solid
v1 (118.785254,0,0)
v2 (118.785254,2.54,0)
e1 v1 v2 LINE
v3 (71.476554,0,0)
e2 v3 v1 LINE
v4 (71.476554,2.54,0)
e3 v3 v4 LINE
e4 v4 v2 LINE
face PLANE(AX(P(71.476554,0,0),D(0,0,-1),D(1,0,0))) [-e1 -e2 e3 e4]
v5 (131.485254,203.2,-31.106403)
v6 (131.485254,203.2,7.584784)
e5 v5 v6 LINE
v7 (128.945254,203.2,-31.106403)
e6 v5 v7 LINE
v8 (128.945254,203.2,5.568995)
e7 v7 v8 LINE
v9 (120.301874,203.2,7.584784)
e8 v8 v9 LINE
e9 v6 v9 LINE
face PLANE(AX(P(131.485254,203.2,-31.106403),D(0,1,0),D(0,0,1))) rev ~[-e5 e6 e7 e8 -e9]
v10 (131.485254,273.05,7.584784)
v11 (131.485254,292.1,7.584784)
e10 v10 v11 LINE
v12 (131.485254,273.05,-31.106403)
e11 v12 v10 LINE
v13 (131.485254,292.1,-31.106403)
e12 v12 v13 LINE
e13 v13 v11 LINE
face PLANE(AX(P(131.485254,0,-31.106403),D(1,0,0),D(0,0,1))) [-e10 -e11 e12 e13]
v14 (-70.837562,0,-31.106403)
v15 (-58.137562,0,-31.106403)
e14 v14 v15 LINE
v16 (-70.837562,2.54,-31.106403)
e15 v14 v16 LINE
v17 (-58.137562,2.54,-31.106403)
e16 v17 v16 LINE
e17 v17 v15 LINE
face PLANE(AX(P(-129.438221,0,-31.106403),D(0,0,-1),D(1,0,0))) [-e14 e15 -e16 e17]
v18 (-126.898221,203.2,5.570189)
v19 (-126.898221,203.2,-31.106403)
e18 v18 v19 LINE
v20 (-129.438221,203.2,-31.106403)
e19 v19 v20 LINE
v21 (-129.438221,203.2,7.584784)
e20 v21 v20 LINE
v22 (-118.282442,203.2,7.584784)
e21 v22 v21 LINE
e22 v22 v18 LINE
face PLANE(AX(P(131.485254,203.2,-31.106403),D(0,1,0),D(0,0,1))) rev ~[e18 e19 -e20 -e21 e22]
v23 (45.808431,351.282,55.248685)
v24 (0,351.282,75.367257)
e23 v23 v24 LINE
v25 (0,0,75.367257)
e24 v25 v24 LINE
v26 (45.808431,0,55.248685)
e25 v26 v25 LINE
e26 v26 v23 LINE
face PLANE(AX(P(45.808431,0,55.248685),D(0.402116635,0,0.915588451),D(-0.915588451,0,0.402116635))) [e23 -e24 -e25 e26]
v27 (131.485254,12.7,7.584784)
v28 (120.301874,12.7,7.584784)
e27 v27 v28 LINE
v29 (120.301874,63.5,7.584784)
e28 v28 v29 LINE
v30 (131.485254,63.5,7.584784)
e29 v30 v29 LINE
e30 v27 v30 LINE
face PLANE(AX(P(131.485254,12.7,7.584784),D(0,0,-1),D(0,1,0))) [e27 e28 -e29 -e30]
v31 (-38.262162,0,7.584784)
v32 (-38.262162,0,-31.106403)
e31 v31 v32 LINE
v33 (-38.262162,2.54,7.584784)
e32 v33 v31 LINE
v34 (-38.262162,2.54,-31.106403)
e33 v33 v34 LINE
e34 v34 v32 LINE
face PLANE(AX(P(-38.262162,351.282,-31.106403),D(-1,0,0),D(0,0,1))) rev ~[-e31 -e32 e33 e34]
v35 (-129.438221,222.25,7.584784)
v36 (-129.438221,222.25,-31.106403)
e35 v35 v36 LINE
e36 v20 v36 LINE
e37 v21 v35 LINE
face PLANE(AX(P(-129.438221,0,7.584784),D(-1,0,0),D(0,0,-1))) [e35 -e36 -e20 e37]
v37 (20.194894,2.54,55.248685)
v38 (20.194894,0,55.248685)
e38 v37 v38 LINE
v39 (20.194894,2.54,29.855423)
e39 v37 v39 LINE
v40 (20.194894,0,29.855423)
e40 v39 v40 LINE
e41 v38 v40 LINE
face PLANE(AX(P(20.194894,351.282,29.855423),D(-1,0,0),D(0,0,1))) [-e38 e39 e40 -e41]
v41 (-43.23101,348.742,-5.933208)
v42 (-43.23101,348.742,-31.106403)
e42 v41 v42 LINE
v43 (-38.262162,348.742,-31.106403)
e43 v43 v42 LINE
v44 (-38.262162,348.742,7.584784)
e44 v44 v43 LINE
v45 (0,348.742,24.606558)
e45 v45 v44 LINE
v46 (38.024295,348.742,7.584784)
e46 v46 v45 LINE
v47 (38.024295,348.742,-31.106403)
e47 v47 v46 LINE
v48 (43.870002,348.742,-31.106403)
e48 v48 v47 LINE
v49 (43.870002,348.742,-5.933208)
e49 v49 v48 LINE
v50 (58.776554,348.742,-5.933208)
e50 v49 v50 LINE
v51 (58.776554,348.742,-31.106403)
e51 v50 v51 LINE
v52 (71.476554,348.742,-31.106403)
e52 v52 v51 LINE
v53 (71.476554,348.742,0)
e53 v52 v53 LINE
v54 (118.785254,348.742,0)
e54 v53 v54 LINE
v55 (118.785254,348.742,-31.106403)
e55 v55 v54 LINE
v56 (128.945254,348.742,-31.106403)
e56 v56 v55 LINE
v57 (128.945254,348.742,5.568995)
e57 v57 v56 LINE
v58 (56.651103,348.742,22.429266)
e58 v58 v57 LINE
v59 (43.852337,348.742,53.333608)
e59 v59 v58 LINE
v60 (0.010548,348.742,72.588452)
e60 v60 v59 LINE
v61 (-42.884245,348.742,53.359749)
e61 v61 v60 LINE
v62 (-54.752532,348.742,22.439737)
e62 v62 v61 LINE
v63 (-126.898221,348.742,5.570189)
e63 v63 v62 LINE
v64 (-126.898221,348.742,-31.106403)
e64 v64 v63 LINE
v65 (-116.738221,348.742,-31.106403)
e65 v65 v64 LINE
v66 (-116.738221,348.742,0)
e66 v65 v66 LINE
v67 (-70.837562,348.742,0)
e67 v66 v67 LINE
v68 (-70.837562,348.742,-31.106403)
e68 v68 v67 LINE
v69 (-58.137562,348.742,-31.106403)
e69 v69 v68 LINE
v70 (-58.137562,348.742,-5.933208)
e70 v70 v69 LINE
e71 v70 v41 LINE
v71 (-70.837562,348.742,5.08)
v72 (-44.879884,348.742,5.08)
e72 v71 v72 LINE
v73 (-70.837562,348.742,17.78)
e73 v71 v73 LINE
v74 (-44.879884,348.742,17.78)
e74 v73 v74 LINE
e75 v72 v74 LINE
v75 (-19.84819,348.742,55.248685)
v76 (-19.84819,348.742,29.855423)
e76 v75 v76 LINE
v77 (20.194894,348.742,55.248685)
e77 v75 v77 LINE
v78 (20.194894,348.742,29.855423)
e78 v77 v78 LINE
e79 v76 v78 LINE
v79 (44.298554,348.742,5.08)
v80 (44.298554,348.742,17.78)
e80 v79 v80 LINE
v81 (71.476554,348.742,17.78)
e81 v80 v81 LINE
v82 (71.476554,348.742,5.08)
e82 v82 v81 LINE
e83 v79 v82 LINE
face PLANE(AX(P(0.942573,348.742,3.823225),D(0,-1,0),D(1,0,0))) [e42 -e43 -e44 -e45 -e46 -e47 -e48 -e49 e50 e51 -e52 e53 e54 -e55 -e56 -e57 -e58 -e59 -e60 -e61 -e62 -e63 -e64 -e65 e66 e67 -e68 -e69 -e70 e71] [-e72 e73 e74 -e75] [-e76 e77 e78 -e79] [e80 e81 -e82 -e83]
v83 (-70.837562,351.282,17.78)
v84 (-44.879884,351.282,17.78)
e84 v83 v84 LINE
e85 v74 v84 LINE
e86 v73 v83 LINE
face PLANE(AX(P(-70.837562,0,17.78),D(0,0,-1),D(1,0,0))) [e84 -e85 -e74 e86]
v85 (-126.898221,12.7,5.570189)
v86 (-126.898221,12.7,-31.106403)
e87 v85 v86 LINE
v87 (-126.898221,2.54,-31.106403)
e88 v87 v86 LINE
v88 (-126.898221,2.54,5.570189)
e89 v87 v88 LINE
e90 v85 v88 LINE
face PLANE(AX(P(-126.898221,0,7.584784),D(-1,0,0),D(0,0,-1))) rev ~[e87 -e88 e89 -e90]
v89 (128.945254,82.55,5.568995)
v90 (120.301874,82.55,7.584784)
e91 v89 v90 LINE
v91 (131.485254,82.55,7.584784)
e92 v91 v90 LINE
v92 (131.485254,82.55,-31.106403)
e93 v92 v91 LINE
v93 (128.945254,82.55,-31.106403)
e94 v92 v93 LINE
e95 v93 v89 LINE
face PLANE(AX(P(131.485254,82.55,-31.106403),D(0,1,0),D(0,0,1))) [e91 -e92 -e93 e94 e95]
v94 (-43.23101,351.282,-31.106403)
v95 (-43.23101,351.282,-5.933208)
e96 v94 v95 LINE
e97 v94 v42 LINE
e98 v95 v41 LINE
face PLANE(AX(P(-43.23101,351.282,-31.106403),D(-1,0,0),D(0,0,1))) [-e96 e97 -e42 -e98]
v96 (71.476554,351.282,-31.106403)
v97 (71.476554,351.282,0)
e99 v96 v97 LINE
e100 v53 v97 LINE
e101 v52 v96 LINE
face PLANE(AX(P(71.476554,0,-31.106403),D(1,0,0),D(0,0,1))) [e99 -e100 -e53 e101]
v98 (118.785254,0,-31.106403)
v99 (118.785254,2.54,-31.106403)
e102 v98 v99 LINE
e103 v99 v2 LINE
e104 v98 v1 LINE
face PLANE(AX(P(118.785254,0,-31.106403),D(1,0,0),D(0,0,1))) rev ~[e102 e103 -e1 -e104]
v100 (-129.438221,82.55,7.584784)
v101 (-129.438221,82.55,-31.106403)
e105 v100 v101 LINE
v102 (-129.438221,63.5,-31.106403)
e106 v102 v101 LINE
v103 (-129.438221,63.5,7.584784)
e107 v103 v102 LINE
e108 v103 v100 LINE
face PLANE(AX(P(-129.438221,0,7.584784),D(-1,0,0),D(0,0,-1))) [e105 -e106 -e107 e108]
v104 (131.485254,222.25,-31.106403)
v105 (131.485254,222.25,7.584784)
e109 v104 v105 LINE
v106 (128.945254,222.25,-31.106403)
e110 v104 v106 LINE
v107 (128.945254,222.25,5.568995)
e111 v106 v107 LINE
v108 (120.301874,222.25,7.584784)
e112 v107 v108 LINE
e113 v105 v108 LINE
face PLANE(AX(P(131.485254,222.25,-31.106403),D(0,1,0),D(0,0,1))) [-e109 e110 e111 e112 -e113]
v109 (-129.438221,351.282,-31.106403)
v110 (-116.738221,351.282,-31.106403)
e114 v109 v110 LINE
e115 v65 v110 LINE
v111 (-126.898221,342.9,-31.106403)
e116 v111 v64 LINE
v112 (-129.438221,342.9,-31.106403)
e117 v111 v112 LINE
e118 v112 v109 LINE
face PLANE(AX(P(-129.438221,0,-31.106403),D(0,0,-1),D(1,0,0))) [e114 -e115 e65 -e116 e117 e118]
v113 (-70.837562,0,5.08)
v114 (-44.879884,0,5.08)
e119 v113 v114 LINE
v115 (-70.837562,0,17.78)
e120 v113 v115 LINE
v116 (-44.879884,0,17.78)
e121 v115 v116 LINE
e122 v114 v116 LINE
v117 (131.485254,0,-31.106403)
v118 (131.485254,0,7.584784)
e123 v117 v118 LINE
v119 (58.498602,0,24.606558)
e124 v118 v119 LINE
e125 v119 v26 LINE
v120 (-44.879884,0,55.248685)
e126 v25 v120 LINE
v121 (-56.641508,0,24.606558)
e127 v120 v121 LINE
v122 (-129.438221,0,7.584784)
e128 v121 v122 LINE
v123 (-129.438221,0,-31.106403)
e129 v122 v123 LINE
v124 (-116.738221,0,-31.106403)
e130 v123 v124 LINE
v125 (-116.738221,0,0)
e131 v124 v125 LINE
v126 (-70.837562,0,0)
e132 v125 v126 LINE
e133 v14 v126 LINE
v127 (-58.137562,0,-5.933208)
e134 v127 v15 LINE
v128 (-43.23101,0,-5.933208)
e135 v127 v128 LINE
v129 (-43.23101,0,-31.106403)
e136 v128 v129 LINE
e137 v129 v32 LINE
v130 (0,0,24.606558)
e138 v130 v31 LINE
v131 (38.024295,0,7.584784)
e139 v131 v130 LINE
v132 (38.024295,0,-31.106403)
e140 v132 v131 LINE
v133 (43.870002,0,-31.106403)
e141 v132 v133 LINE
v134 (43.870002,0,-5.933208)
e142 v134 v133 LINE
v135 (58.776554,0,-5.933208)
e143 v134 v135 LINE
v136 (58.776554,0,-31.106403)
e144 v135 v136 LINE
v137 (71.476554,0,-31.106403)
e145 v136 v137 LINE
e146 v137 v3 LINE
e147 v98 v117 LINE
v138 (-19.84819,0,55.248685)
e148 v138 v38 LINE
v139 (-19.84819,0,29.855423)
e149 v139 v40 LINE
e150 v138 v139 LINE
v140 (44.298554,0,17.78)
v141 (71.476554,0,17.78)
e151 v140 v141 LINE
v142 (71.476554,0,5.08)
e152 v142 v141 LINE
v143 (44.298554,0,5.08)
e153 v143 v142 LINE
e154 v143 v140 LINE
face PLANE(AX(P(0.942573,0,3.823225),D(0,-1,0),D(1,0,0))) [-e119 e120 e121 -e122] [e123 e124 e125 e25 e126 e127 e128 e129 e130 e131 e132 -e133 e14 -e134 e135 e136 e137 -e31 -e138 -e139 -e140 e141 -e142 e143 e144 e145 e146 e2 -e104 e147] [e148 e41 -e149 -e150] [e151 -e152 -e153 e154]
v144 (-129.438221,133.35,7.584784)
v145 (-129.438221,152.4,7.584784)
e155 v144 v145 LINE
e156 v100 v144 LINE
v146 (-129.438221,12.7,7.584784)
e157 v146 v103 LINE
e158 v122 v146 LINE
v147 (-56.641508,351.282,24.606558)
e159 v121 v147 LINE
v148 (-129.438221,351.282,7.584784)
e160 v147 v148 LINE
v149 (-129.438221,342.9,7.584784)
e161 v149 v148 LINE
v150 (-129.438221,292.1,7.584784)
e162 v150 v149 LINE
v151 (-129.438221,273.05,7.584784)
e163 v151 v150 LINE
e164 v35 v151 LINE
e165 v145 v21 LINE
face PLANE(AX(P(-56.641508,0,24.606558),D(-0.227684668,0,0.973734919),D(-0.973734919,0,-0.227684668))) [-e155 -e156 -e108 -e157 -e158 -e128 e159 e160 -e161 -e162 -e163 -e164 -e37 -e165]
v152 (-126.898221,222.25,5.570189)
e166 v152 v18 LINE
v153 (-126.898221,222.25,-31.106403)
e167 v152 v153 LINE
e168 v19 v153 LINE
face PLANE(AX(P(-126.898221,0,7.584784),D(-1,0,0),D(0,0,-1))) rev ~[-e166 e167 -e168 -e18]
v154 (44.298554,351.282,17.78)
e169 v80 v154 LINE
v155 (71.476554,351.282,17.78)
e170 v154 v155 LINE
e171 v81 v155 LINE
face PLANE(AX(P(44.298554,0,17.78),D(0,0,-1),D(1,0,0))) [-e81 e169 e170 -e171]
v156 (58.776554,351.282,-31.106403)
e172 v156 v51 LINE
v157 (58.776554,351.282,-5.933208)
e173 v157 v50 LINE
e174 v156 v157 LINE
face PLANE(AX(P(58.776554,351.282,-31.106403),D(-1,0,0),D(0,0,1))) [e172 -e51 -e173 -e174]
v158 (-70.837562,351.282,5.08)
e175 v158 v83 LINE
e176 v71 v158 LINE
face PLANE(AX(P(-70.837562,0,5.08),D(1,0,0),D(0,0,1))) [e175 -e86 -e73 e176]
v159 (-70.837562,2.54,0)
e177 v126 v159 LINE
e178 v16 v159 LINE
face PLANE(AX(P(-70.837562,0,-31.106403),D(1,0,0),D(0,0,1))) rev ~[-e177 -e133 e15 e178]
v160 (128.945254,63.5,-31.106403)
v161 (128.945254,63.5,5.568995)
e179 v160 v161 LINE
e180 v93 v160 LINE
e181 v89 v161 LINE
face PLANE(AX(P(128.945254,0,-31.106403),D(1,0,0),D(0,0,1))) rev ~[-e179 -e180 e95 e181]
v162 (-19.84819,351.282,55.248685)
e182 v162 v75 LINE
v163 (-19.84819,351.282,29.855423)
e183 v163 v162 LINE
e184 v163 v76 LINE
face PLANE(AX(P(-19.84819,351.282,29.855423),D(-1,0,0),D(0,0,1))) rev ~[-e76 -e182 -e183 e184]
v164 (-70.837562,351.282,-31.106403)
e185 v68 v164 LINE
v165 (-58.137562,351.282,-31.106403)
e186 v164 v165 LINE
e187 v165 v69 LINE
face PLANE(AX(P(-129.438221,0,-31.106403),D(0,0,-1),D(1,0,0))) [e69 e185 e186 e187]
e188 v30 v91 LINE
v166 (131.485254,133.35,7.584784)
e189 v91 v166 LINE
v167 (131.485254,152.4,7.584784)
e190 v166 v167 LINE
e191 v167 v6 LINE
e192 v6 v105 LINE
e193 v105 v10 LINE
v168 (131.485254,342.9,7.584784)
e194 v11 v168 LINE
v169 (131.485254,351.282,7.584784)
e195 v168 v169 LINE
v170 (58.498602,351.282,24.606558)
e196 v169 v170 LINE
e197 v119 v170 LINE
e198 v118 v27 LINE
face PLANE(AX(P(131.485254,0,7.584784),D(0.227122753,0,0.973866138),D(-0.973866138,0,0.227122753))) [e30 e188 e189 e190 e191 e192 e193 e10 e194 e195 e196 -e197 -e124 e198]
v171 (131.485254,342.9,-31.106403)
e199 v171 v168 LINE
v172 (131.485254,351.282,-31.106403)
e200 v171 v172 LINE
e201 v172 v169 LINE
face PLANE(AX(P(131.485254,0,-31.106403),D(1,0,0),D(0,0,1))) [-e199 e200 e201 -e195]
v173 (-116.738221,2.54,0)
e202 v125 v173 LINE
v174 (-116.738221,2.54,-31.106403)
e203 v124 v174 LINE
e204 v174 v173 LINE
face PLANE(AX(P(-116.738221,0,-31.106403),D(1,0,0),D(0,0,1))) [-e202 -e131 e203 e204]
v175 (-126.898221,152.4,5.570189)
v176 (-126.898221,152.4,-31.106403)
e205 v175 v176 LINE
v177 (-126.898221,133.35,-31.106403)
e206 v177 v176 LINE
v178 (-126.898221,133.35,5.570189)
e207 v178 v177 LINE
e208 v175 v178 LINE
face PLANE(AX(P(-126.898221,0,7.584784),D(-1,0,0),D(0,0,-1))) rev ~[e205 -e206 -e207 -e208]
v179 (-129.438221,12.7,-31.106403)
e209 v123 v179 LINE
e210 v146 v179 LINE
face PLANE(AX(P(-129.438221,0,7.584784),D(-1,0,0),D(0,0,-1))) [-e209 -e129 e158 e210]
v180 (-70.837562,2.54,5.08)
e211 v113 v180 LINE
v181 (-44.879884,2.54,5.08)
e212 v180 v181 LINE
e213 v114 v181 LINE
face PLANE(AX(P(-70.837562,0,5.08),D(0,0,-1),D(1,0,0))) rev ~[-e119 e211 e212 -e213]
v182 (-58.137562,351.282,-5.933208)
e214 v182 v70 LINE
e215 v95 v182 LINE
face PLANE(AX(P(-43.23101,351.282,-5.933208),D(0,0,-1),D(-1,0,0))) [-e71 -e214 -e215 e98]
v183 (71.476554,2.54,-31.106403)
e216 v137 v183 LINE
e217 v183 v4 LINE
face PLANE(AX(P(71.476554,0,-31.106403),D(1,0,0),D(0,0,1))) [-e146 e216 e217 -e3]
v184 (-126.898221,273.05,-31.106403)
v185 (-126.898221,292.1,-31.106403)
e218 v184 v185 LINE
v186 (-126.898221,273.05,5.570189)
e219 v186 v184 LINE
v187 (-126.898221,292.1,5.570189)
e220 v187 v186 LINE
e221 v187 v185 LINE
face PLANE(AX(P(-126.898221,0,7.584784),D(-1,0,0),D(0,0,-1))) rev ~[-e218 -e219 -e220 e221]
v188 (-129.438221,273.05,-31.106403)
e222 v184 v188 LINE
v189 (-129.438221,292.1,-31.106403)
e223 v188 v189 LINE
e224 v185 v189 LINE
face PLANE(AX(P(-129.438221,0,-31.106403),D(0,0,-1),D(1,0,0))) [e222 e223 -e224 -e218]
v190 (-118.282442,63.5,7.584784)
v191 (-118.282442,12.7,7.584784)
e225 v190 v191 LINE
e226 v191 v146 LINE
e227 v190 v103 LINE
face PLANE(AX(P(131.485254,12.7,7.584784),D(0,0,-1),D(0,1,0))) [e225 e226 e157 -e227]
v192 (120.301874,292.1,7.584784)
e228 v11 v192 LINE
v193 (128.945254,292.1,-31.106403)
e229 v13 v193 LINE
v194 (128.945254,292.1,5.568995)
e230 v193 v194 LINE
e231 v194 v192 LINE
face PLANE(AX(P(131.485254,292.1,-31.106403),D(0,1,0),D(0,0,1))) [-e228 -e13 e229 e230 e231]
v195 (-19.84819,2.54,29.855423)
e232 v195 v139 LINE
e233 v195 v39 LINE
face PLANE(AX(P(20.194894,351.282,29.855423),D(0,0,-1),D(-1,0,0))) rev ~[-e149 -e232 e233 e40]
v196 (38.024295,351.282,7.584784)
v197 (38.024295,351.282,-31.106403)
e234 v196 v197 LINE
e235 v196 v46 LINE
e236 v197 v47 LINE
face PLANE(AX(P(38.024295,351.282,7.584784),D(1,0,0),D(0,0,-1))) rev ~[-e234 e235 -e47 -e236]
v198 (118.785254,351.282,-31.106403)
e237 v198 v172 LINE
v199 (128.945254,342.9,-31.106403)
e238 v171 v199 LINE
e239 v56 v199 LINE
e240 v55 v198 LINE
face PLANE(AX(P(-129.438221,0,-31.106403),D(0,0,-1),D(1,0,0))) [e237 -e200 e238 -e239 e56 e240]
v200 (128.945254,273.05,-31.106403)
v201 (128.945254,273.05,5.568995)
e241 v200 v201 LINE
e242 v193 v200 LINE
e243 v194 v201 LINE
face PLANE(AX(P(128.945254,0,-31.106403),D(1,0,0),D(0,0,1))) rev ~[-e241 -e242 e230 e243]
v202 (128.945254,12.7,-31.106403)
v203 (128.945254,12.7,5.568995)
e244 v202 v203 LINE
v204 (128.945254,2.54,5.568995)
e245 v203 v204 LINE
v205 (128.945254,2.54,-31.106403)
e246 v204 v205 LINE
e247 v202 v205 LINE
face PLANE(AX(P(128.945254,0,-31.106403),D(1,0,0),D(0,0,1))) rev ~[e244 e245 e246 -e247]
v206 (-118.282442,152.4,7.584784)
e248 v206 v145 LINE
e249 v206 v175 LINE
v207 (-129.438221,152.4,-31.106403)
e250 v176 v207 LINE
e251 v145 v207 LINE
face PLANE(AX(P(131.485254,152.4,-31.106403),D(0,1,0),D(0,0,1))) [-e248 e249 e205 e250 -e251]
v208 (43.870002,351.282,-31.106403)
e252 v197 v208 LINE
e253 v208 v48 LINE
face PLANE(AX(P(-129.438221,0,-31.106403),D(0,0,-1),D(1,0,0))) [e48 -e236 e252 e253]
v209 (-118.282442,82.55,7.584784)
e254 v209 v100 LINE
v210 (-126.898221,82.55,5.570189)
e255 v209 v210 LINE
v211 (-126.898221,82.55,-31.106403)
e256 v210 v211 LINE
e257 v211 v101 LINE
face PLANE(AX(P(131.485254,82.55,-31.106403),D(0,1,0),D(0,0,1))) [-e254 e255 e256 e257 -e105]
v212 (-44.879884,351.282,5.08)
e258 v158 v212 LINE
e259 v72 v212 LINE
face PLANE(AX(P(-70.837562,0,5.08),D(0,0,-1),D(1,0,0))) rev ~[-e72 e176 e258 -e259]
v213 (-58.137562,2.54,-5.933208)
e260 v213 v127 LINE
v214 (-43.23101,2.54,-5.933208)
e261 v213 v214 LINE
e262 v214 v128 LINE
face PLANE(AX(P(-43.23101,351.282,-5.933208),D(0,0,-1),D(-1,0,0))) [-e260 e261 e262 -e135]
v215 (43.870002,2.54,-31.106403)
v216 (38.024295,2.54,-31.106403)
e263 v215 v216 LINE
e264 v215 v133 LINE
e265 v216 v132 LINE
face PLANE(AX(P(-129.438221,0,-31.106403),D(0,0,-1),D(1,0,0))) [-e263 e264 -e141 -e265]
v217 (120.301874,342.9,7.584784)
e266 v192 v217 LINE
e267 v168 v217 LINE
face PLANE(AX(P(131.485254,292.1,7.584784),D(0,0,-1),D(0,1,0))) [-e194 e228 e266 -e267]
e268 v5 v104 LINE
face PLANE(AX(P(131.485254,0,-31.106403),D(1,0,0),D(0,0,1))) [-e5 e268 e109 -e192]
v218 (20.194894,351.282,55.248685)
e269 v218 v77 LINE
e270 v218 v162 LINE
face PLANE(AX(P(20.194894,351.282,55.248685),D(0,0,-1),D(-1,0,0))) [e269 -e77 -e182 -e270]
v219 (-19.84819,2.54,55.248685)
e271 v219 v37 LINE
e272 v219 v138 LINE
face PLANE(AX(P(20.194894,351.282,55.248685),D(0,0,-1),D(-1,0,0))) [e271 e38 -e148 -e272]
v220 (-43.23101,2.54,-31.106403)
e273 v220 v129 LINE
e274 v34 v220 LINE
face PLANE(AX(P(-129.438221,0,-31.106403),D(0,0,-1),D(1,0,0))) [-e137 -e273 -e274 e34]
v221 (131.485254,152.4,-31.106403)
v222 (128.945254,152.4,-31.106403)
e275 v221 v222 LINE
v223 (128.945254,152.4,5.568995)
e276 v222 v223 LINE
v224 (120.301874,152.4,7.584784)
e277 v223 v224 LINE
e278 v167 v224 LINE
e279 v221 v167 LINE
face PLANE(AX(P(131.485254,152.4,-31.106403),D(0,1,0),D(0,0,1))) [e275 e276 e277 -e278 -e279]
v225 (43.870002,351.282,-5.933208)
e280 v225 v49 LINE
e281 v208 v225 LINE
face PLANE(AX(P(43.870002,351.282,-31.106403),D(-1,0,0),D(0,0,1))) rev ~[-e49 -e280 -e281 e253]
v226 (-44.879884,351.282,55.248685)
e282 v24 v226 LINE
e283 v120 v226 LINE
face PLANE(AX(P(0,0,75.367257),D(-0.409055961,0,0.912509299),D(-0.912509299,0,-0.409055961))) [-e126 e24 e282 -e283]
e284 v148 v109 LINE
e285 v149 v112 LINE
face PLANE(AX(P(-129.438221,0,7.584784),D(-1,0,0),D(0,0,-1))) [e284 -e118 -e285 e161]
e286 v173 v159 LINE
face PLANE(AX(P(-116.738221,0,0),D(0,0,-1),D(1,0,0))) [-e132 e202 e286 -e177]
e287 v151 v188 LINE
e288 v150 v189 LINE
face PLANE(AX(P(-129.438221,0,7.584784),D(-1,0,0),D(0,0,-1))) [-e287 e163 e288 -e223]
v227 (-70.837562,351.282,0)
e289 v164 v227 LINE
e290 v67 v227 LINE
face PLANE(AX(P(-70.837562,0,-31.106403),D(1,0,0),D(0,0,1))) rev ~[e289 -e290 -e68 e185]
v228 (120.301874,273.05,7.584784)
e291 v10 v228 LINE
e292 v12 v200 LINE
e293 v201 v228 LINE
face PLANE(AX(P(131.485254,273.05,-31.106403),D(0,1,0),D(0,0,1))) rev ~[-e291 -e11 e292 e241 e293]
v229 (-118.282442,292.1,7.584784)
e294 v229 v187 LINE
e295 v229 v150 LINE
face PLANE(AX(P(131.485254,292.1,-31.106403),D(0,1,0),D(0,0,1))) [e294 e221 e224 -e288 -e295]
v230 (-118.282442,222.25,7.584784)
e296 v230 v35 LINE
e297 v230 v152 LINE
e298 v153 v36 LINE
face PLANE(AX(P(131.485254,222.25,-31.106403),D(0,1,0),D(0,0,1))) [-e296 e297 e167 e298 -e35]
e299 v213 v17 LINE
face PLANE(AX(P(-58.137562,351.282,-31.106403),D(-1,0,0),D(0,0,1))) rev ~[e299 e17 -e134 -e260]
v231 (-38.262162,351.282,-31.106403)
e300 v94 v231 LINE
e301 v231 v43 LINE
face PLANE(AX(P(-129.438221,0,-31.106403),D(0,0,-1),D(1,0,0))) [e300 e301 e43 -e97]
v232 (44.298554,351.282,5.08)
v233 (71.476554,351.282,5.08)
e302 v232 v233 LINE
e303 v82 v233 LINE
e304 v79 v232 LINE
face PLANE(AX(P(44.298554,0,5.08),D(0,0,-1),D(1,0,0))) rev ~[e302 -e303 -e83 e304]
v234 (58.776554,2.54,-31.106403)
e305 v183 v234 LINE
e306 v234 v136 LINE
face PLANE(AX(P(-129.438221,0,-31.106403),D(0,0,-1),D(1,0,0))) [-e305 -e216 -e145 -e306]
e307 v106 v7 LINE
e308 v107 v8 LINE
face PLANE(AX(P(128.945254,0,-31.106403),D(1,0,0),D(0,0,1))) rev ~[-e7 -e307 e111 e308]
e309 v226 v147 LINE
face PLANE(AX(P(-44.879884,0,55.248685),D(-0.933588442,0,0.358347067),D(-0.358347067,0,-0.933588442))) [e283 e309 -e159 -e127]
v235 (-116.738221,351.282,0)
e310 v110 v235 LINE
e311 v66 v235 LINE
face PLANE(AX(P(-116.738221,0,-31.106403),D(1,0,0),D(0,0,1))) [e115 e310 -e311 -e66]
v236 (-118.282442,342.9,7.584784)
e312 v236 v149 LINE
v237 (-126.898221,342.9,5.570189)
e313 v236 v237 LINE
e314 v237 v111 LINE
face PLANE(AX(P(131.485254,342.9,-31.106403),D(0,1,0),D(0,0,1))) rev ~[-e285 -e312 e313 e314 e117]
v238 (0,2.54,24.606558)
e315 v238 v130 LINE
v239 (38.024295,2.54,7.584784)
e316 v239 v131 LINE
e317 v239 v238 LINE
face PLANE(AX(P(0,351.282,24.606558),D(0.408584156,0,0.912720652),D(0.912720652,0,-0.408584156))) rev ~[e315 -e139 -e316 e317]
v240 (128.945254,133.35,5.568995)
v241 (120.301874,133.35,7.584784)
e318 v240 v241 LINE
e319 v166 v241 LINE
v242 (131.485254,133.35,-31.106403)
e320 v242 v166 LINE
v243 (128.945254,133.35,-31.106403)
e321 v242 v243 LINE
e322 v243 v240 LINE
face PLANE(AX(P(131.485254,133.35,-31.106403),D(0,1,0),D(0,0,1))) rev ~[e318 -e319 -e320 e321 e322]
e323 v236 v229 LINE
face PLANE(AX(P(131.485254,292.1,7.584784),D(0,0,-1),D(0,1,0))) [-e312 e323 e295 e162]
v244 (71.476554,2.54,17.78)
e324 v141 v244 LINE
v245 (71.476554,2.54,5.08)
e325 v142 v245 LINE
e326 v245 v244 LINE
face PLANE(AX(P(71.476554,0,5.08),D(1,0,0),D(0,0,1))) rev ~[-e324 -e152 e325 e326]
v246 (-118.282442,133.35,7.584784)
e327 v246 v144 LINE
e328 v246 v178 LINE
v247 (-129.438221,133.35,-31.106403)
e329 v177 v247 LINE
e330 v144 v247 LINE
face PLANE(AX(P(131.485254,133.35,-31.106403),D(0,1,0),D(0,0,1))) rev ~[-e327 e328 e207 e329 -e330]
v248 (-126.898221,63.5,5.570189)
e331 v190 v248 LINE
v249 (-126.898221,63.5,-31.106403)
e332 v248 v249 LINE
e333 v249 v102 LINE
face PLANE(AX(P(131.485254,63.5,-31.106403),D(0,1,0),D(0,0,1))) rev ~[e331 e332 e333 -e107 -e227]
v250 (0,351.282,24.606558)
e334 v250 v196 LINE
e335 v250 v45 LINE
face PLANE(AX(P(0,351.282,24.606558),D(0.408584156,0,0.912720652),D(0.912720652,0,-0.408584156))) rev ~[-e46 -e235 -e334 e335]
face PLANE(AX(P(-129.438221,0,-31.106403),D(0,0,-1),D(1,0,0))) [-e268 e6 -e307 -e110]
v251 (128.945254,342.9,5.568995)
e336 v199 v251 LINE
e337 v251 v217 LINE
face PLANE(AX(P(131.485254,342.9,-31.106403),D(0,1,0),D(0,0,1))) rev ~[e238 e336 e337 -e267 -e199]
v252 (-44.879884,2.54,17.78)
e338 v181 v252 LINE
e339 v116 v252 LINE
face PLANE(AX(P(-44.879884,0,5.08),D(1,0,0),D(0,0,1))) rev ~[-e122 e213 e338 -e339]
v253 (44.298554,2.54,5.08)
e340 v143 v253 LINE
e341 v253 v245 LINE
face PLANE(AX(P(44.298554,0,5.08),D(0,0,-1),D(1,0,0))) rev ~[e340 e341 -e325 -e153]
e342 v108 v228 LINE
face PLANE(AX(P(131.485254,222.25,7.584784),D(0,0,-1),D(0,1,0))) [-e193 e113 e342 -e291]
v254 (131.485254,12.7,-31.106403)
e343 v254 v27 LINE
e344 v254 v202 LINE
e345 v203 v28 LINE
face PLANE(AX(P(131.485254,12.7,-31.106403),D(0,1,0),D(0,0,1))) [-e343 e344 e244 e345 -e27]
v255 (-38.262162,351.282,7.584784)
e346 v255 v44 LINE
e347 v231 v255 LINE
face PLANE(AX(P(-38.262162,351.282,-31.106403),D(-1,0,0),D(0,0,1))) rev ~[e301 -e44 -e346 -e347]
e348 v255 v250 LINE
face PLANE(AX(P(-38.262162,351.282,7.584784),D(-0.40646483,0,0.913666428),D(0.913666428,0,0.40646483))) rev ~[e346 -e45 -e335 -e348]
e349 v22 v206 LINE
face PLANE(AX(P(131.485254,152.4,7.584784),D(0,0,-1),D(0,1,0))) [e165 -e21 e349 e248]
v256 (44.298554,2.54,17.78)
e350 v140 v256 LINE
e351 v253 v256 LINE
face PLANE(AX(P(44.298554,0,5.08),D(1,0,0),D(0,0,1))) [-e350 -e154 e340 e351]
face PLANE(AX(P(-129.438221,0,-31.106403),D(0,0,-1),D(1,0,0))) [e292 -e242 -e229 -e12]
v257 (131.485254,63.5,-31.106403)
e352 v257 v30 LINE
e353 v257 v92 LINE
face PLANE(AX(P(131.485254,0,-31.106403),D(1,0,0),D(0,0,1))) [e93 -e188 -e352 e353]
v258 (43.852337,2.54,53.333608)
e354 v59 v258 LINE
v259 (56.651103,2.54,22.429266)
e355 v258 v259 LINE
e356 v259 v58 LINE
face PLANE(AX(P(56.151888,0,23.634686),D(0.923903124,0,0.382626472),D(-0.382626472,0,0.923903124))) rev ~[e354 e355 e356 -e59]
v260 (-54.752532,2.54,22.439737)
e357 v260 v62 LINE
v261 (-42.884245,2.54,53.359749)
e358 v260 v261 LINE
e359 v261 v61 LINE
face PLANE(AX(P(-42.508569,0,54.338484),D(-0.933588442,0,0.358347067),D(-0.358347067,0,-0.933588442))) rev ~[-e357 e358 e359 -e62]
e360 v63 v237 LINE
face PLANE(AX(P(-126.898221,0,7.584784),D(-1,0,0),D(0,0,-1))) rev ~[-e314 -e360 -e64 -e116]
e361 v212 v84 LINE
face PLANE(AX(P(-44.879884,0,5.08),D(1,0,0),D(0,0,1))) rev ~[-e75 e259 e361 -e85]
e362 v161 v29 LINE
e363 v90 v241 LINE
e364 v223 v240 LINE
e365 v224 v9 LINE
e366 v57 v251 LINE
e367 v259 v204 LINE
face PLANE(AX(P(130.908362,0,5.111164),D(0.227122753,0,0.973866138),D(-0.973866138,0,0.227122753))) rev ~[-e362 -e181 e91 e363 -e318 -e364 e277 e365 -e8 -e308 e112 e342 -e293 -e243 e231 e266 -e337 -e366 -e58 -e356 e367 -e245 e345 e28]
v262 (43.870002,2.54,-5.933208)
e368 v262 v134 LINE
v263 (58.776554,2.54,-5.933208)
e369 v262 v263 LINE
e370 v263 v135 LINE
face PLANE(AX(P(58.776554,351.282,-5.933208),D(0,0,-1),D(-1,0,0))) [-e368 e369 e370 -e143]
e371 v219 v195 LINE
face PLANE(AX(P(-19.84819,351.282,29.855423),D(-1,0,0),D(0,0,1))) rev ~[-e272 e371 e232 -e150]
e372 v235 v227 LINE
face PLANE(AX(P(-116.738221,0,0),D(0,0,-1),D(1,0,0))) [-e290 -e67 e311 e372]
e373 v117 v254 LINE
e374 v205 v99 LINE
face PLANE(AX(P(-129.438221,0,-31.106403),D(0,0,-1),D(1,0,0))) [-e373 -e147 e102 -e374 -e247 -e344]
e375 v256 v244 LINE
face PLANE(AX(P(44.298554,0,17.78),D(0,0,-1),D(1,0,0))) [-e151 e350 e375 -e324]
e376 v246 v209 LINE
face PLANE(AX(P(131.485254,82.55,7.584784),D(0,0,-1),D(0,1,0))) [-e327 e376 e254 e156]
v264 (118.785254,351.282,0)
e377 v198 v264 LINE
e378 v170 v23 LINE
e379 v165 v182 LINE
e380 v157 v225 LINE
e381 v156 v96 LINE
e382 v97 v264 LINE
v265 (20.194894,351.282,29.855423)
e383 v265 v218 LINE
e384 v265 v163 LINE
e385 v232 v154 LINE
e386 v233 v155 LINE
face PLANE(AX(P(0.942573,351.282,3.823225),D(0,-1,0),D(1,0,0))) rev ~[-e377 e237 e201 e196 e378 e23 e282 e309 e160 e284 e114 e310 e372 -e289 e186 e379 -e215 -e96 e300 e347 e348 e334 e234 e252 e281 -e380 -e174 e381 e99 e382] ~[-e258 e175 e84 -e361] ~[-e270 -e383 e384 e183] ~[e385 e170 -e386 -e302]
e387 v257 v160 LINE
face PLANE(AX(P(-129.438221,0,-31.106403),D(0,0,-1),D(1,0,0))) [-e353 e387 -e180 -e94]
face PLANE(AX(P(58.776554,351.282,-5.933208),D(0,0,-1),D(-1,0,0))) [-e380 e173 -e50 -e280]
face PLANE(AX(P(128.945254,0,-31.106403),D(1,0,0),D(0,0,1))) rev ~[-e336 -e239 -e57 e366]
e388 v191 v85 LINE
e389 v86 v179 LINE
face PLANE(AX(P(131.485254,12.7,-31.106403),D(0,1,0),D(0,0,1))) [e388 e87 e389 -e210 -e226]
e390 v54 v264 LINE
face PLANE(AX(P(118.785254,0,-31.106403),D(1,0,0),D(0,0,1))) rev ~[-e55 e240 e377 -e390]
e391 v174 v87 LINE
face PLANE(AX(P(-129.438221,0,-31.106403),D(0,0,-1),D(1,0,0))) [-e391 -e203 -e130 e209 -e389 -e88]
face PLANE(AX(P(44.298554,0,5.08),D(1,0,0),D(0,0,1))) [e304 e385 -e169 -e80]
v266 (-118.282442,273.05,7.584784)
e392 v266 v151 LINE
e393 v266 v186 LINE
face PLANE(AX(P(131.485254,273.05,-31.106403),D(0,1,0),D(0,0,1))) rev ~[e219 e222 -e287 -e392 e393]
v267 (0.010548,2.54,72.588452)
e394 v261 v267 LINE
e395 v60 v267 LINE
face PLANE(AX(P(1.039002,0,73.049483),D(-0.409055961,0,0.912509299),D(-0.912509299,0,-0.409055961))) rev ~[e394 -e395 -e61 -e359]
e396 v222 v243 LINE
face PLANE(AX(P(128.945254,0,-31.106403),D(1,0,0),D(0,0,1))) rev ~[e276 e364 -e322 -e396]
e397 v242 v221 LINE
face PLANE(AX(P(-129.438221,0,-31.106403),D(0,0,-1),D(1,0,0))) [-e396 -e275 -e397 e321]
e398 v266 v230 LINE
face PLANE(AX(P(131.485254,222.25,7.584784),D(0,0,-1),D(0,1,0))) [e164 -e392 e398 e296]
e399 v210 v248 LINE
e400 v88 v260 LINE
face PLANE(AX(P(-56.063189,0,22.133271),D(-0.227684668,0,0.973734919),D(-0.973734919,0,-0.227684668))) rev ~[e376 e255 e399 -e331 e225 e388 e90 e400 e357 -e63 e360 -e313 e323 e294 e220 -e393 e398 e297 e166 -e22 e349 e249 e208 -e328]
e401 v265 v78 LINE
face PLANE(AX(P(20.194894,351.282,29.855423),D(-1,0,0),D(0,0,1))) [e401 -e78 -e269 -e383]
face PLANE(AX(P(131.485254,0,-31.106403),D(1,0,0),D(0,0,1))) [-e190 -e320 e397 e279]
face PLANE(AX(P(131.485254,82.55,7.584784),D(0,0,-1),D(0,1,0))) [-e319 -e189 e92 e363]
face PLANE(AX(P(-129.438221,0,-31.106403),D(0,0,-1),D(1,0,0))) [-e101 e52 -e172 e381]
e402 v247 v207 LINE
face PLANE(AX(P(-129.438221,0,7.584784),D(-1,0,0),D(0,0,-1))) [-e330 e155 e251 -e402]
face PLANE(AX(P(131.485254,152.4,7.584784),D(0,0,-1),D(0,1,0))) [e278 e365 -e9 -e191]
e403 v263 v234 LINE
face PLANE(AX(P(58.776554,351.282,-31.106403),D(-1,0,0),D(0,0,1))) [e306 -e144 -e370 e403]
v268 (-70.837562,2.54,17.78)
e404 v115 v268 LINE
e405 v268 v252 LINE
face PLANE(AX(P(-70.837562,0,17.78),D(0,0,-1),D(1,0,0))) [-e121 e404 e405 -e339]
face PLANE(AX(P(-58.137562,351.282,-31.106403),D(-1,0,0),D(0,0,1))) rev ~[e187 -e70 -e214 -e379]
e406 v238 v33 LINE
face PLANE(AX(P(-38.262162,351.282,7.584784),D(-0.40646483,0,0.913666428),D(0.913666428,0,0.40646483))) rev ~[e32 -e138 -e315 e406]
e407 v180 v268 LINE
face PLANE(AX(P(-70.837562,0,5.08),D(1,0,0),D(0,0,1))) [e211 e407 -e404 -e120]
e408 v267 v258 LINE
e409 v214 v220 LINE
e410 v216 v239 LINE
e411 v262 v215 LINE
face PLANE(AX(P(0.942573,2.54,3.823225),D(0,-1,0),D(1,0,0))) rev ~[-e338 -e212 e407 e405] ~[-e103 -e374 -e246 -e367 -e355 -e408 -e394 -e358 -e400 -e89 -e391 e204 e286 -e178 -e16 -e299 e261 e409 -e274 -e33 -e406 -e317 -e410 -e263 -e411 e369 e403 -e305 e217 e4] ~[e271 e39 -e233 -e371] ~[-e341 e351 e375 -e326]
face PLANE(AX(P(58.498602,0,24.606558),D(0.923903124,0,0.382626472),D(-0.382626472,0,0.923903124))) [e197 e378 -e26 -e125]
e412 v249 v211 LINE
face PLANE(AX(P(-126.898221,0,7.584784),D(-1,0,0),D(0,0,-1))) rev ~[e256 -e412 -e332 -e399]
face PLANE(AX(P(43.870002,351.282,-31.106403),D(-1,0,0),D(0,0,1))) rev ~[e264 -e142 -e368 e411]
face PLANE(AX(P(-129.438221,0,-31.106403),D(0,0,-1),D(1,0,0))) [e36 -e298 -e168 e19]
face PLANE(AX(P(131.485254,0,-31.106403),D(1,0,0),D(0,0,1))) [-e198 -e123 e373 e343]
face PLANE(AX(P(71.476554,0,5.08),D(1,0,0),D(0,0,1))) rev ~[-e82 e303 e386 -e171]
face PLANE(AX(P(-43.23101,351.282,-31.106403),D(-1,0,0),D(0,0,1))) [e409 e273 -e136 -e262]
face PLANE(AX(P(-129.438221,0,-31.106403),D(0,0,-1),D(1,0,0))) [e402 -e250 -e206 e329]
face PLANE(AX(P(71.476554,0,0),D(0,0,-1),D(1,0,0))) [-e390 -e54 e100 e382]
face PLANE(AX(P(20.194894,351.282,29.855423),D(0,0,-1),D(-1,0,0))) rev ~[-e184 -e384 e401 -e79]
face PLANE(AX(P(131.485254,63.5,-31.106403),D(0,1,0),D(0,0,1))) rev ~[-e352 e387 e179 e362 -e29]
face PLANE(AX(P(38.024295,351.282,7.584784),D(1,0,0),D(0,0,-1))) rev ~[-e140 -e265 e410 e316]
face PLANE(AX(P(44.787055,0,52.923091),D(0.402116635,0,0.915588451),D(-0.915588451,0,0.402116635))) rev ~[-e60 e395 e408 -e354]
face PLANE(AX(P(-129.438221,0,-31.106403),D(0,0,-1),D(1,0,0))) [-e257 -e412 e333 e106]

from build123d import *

# Parameters (mm, degrees)
F1_DEPTH = 351.282
F2_T     = -2.54
F3_W     = 40.0430839509
F3_H     = 25.3932625055
F3_W_2   = 14.9065516889
F3_H_2   = 25.1731947064
F4_DEPTH = 508
F5_W     = 50.8
F5_H     = 38.6911868118
F6_DEPTH = 558.8
F7_W     = 45.9006593287
F7_H     = 31.1064030975
F7_W_2   = 25.9576785982
F7_H_2   = 12.7
F7_W_3   = 27.178
F7_W_4   = 47.3086998522
F8_DEPTH = 762


with BuildPart() as f1:
    # F0 (on Front) → F1 (new body)
    with BuildSketch(Plane.XZ):
        Polygon((-44.8798835278, 55.2486851811), (-56.6415078938, 24.6065575629), (-129.4382214546, 7.5847837143), (-129.4382214546, -31.1064030975), (131.4852535725, -31.1064030975), (131.4852535725, 7.5847837143), (58.4986023605, 24.6065575629), (45.8084307611, 55.2486851811), (0, 75.367256999), align=None)
    extrude(amount=-F1_DEPTH)

    # F2
    f2_openings = [f1.faces().sort_by_distance(p)[0] for p in [
        (1.023516, 175.641, -31.106403),
    ]]
    offset(amount=F2_T, openings=f2_openings, kind=Kind.INTERSECTION)

    # F3 (on face) → F4 (cut)
    with BuildSketch(Plane(origin=(0, 351.282, 0), x_dir=(-1, 0, 0), z_dir=(0, 1, 0))):
        with Locations((-0.1733517274, 42.5520539284)):
            Rectangle(F3_W, F3_H)
        with Locations((50.6842862815, -18.5198057443)):
            Rectangle(F3_W_2, F3_H_2)
        with Locations((-51.3232778758, -18.5198057443)):
            Rectangle(F3_W_2, F3_H_2)
        Polygon((-38.0242951214, -31.1064030975), (0, -31.1064030975), (38.2621623576, -31.1064030975), (38.2621623576, 7.5847837143), (0, 24.6065575629), (-38.0242951214, 7.5847837143), align=None)
    extrude(amount=-F4_DEPTH, mode=Mode.SUBTRACT)

    # F5 (on face) → F6 (cut)
    with BuildSketch(Plane.YZ.offset(131.4852535725)):
        with Locations((38.1, -11.7608096916)):
            Rectangle(F5_W, F5_H)
        with Locations((107.95, -11.7608096916)):
            Rectangle(F5_W, F5_H)
        with Locations((177.8, -11.7608096916)):
            Rectangle(F5_W, F5_H)
        with Locations((247.65, -11.7608096916)):
            Rectangle(F5_W, F5_H)
        with Locations((317.5, -11.7608096916)):
            Rectangle(F5_W, F5_H)
    extrude(amount=-F6_DEPTH, mode=Mode.SUBTRACT)

    # F7 (on face) → F8 (cut)
    with BuildSketch(Plane.XZ):
        with Locations((-93.7878917903, -15.5532015488)):
            Rectangle(F7_W, F7_H)
        with Locations((-57.8587228268, 11.43)):
            Rectangle(F7_W_2, F7_H_2)
        with Locations((57.8875537202, 11.43)):
            Rectangle(F7_W_3, F7_H_2)
        with Locations((95.1309036463, -15.5532015488)):
            Rectangle(F7_W_4, F7_H)
    extrude(amount=-F8_DEPTH, mode=Mode.SUBTRACT)


solid = f1.part
